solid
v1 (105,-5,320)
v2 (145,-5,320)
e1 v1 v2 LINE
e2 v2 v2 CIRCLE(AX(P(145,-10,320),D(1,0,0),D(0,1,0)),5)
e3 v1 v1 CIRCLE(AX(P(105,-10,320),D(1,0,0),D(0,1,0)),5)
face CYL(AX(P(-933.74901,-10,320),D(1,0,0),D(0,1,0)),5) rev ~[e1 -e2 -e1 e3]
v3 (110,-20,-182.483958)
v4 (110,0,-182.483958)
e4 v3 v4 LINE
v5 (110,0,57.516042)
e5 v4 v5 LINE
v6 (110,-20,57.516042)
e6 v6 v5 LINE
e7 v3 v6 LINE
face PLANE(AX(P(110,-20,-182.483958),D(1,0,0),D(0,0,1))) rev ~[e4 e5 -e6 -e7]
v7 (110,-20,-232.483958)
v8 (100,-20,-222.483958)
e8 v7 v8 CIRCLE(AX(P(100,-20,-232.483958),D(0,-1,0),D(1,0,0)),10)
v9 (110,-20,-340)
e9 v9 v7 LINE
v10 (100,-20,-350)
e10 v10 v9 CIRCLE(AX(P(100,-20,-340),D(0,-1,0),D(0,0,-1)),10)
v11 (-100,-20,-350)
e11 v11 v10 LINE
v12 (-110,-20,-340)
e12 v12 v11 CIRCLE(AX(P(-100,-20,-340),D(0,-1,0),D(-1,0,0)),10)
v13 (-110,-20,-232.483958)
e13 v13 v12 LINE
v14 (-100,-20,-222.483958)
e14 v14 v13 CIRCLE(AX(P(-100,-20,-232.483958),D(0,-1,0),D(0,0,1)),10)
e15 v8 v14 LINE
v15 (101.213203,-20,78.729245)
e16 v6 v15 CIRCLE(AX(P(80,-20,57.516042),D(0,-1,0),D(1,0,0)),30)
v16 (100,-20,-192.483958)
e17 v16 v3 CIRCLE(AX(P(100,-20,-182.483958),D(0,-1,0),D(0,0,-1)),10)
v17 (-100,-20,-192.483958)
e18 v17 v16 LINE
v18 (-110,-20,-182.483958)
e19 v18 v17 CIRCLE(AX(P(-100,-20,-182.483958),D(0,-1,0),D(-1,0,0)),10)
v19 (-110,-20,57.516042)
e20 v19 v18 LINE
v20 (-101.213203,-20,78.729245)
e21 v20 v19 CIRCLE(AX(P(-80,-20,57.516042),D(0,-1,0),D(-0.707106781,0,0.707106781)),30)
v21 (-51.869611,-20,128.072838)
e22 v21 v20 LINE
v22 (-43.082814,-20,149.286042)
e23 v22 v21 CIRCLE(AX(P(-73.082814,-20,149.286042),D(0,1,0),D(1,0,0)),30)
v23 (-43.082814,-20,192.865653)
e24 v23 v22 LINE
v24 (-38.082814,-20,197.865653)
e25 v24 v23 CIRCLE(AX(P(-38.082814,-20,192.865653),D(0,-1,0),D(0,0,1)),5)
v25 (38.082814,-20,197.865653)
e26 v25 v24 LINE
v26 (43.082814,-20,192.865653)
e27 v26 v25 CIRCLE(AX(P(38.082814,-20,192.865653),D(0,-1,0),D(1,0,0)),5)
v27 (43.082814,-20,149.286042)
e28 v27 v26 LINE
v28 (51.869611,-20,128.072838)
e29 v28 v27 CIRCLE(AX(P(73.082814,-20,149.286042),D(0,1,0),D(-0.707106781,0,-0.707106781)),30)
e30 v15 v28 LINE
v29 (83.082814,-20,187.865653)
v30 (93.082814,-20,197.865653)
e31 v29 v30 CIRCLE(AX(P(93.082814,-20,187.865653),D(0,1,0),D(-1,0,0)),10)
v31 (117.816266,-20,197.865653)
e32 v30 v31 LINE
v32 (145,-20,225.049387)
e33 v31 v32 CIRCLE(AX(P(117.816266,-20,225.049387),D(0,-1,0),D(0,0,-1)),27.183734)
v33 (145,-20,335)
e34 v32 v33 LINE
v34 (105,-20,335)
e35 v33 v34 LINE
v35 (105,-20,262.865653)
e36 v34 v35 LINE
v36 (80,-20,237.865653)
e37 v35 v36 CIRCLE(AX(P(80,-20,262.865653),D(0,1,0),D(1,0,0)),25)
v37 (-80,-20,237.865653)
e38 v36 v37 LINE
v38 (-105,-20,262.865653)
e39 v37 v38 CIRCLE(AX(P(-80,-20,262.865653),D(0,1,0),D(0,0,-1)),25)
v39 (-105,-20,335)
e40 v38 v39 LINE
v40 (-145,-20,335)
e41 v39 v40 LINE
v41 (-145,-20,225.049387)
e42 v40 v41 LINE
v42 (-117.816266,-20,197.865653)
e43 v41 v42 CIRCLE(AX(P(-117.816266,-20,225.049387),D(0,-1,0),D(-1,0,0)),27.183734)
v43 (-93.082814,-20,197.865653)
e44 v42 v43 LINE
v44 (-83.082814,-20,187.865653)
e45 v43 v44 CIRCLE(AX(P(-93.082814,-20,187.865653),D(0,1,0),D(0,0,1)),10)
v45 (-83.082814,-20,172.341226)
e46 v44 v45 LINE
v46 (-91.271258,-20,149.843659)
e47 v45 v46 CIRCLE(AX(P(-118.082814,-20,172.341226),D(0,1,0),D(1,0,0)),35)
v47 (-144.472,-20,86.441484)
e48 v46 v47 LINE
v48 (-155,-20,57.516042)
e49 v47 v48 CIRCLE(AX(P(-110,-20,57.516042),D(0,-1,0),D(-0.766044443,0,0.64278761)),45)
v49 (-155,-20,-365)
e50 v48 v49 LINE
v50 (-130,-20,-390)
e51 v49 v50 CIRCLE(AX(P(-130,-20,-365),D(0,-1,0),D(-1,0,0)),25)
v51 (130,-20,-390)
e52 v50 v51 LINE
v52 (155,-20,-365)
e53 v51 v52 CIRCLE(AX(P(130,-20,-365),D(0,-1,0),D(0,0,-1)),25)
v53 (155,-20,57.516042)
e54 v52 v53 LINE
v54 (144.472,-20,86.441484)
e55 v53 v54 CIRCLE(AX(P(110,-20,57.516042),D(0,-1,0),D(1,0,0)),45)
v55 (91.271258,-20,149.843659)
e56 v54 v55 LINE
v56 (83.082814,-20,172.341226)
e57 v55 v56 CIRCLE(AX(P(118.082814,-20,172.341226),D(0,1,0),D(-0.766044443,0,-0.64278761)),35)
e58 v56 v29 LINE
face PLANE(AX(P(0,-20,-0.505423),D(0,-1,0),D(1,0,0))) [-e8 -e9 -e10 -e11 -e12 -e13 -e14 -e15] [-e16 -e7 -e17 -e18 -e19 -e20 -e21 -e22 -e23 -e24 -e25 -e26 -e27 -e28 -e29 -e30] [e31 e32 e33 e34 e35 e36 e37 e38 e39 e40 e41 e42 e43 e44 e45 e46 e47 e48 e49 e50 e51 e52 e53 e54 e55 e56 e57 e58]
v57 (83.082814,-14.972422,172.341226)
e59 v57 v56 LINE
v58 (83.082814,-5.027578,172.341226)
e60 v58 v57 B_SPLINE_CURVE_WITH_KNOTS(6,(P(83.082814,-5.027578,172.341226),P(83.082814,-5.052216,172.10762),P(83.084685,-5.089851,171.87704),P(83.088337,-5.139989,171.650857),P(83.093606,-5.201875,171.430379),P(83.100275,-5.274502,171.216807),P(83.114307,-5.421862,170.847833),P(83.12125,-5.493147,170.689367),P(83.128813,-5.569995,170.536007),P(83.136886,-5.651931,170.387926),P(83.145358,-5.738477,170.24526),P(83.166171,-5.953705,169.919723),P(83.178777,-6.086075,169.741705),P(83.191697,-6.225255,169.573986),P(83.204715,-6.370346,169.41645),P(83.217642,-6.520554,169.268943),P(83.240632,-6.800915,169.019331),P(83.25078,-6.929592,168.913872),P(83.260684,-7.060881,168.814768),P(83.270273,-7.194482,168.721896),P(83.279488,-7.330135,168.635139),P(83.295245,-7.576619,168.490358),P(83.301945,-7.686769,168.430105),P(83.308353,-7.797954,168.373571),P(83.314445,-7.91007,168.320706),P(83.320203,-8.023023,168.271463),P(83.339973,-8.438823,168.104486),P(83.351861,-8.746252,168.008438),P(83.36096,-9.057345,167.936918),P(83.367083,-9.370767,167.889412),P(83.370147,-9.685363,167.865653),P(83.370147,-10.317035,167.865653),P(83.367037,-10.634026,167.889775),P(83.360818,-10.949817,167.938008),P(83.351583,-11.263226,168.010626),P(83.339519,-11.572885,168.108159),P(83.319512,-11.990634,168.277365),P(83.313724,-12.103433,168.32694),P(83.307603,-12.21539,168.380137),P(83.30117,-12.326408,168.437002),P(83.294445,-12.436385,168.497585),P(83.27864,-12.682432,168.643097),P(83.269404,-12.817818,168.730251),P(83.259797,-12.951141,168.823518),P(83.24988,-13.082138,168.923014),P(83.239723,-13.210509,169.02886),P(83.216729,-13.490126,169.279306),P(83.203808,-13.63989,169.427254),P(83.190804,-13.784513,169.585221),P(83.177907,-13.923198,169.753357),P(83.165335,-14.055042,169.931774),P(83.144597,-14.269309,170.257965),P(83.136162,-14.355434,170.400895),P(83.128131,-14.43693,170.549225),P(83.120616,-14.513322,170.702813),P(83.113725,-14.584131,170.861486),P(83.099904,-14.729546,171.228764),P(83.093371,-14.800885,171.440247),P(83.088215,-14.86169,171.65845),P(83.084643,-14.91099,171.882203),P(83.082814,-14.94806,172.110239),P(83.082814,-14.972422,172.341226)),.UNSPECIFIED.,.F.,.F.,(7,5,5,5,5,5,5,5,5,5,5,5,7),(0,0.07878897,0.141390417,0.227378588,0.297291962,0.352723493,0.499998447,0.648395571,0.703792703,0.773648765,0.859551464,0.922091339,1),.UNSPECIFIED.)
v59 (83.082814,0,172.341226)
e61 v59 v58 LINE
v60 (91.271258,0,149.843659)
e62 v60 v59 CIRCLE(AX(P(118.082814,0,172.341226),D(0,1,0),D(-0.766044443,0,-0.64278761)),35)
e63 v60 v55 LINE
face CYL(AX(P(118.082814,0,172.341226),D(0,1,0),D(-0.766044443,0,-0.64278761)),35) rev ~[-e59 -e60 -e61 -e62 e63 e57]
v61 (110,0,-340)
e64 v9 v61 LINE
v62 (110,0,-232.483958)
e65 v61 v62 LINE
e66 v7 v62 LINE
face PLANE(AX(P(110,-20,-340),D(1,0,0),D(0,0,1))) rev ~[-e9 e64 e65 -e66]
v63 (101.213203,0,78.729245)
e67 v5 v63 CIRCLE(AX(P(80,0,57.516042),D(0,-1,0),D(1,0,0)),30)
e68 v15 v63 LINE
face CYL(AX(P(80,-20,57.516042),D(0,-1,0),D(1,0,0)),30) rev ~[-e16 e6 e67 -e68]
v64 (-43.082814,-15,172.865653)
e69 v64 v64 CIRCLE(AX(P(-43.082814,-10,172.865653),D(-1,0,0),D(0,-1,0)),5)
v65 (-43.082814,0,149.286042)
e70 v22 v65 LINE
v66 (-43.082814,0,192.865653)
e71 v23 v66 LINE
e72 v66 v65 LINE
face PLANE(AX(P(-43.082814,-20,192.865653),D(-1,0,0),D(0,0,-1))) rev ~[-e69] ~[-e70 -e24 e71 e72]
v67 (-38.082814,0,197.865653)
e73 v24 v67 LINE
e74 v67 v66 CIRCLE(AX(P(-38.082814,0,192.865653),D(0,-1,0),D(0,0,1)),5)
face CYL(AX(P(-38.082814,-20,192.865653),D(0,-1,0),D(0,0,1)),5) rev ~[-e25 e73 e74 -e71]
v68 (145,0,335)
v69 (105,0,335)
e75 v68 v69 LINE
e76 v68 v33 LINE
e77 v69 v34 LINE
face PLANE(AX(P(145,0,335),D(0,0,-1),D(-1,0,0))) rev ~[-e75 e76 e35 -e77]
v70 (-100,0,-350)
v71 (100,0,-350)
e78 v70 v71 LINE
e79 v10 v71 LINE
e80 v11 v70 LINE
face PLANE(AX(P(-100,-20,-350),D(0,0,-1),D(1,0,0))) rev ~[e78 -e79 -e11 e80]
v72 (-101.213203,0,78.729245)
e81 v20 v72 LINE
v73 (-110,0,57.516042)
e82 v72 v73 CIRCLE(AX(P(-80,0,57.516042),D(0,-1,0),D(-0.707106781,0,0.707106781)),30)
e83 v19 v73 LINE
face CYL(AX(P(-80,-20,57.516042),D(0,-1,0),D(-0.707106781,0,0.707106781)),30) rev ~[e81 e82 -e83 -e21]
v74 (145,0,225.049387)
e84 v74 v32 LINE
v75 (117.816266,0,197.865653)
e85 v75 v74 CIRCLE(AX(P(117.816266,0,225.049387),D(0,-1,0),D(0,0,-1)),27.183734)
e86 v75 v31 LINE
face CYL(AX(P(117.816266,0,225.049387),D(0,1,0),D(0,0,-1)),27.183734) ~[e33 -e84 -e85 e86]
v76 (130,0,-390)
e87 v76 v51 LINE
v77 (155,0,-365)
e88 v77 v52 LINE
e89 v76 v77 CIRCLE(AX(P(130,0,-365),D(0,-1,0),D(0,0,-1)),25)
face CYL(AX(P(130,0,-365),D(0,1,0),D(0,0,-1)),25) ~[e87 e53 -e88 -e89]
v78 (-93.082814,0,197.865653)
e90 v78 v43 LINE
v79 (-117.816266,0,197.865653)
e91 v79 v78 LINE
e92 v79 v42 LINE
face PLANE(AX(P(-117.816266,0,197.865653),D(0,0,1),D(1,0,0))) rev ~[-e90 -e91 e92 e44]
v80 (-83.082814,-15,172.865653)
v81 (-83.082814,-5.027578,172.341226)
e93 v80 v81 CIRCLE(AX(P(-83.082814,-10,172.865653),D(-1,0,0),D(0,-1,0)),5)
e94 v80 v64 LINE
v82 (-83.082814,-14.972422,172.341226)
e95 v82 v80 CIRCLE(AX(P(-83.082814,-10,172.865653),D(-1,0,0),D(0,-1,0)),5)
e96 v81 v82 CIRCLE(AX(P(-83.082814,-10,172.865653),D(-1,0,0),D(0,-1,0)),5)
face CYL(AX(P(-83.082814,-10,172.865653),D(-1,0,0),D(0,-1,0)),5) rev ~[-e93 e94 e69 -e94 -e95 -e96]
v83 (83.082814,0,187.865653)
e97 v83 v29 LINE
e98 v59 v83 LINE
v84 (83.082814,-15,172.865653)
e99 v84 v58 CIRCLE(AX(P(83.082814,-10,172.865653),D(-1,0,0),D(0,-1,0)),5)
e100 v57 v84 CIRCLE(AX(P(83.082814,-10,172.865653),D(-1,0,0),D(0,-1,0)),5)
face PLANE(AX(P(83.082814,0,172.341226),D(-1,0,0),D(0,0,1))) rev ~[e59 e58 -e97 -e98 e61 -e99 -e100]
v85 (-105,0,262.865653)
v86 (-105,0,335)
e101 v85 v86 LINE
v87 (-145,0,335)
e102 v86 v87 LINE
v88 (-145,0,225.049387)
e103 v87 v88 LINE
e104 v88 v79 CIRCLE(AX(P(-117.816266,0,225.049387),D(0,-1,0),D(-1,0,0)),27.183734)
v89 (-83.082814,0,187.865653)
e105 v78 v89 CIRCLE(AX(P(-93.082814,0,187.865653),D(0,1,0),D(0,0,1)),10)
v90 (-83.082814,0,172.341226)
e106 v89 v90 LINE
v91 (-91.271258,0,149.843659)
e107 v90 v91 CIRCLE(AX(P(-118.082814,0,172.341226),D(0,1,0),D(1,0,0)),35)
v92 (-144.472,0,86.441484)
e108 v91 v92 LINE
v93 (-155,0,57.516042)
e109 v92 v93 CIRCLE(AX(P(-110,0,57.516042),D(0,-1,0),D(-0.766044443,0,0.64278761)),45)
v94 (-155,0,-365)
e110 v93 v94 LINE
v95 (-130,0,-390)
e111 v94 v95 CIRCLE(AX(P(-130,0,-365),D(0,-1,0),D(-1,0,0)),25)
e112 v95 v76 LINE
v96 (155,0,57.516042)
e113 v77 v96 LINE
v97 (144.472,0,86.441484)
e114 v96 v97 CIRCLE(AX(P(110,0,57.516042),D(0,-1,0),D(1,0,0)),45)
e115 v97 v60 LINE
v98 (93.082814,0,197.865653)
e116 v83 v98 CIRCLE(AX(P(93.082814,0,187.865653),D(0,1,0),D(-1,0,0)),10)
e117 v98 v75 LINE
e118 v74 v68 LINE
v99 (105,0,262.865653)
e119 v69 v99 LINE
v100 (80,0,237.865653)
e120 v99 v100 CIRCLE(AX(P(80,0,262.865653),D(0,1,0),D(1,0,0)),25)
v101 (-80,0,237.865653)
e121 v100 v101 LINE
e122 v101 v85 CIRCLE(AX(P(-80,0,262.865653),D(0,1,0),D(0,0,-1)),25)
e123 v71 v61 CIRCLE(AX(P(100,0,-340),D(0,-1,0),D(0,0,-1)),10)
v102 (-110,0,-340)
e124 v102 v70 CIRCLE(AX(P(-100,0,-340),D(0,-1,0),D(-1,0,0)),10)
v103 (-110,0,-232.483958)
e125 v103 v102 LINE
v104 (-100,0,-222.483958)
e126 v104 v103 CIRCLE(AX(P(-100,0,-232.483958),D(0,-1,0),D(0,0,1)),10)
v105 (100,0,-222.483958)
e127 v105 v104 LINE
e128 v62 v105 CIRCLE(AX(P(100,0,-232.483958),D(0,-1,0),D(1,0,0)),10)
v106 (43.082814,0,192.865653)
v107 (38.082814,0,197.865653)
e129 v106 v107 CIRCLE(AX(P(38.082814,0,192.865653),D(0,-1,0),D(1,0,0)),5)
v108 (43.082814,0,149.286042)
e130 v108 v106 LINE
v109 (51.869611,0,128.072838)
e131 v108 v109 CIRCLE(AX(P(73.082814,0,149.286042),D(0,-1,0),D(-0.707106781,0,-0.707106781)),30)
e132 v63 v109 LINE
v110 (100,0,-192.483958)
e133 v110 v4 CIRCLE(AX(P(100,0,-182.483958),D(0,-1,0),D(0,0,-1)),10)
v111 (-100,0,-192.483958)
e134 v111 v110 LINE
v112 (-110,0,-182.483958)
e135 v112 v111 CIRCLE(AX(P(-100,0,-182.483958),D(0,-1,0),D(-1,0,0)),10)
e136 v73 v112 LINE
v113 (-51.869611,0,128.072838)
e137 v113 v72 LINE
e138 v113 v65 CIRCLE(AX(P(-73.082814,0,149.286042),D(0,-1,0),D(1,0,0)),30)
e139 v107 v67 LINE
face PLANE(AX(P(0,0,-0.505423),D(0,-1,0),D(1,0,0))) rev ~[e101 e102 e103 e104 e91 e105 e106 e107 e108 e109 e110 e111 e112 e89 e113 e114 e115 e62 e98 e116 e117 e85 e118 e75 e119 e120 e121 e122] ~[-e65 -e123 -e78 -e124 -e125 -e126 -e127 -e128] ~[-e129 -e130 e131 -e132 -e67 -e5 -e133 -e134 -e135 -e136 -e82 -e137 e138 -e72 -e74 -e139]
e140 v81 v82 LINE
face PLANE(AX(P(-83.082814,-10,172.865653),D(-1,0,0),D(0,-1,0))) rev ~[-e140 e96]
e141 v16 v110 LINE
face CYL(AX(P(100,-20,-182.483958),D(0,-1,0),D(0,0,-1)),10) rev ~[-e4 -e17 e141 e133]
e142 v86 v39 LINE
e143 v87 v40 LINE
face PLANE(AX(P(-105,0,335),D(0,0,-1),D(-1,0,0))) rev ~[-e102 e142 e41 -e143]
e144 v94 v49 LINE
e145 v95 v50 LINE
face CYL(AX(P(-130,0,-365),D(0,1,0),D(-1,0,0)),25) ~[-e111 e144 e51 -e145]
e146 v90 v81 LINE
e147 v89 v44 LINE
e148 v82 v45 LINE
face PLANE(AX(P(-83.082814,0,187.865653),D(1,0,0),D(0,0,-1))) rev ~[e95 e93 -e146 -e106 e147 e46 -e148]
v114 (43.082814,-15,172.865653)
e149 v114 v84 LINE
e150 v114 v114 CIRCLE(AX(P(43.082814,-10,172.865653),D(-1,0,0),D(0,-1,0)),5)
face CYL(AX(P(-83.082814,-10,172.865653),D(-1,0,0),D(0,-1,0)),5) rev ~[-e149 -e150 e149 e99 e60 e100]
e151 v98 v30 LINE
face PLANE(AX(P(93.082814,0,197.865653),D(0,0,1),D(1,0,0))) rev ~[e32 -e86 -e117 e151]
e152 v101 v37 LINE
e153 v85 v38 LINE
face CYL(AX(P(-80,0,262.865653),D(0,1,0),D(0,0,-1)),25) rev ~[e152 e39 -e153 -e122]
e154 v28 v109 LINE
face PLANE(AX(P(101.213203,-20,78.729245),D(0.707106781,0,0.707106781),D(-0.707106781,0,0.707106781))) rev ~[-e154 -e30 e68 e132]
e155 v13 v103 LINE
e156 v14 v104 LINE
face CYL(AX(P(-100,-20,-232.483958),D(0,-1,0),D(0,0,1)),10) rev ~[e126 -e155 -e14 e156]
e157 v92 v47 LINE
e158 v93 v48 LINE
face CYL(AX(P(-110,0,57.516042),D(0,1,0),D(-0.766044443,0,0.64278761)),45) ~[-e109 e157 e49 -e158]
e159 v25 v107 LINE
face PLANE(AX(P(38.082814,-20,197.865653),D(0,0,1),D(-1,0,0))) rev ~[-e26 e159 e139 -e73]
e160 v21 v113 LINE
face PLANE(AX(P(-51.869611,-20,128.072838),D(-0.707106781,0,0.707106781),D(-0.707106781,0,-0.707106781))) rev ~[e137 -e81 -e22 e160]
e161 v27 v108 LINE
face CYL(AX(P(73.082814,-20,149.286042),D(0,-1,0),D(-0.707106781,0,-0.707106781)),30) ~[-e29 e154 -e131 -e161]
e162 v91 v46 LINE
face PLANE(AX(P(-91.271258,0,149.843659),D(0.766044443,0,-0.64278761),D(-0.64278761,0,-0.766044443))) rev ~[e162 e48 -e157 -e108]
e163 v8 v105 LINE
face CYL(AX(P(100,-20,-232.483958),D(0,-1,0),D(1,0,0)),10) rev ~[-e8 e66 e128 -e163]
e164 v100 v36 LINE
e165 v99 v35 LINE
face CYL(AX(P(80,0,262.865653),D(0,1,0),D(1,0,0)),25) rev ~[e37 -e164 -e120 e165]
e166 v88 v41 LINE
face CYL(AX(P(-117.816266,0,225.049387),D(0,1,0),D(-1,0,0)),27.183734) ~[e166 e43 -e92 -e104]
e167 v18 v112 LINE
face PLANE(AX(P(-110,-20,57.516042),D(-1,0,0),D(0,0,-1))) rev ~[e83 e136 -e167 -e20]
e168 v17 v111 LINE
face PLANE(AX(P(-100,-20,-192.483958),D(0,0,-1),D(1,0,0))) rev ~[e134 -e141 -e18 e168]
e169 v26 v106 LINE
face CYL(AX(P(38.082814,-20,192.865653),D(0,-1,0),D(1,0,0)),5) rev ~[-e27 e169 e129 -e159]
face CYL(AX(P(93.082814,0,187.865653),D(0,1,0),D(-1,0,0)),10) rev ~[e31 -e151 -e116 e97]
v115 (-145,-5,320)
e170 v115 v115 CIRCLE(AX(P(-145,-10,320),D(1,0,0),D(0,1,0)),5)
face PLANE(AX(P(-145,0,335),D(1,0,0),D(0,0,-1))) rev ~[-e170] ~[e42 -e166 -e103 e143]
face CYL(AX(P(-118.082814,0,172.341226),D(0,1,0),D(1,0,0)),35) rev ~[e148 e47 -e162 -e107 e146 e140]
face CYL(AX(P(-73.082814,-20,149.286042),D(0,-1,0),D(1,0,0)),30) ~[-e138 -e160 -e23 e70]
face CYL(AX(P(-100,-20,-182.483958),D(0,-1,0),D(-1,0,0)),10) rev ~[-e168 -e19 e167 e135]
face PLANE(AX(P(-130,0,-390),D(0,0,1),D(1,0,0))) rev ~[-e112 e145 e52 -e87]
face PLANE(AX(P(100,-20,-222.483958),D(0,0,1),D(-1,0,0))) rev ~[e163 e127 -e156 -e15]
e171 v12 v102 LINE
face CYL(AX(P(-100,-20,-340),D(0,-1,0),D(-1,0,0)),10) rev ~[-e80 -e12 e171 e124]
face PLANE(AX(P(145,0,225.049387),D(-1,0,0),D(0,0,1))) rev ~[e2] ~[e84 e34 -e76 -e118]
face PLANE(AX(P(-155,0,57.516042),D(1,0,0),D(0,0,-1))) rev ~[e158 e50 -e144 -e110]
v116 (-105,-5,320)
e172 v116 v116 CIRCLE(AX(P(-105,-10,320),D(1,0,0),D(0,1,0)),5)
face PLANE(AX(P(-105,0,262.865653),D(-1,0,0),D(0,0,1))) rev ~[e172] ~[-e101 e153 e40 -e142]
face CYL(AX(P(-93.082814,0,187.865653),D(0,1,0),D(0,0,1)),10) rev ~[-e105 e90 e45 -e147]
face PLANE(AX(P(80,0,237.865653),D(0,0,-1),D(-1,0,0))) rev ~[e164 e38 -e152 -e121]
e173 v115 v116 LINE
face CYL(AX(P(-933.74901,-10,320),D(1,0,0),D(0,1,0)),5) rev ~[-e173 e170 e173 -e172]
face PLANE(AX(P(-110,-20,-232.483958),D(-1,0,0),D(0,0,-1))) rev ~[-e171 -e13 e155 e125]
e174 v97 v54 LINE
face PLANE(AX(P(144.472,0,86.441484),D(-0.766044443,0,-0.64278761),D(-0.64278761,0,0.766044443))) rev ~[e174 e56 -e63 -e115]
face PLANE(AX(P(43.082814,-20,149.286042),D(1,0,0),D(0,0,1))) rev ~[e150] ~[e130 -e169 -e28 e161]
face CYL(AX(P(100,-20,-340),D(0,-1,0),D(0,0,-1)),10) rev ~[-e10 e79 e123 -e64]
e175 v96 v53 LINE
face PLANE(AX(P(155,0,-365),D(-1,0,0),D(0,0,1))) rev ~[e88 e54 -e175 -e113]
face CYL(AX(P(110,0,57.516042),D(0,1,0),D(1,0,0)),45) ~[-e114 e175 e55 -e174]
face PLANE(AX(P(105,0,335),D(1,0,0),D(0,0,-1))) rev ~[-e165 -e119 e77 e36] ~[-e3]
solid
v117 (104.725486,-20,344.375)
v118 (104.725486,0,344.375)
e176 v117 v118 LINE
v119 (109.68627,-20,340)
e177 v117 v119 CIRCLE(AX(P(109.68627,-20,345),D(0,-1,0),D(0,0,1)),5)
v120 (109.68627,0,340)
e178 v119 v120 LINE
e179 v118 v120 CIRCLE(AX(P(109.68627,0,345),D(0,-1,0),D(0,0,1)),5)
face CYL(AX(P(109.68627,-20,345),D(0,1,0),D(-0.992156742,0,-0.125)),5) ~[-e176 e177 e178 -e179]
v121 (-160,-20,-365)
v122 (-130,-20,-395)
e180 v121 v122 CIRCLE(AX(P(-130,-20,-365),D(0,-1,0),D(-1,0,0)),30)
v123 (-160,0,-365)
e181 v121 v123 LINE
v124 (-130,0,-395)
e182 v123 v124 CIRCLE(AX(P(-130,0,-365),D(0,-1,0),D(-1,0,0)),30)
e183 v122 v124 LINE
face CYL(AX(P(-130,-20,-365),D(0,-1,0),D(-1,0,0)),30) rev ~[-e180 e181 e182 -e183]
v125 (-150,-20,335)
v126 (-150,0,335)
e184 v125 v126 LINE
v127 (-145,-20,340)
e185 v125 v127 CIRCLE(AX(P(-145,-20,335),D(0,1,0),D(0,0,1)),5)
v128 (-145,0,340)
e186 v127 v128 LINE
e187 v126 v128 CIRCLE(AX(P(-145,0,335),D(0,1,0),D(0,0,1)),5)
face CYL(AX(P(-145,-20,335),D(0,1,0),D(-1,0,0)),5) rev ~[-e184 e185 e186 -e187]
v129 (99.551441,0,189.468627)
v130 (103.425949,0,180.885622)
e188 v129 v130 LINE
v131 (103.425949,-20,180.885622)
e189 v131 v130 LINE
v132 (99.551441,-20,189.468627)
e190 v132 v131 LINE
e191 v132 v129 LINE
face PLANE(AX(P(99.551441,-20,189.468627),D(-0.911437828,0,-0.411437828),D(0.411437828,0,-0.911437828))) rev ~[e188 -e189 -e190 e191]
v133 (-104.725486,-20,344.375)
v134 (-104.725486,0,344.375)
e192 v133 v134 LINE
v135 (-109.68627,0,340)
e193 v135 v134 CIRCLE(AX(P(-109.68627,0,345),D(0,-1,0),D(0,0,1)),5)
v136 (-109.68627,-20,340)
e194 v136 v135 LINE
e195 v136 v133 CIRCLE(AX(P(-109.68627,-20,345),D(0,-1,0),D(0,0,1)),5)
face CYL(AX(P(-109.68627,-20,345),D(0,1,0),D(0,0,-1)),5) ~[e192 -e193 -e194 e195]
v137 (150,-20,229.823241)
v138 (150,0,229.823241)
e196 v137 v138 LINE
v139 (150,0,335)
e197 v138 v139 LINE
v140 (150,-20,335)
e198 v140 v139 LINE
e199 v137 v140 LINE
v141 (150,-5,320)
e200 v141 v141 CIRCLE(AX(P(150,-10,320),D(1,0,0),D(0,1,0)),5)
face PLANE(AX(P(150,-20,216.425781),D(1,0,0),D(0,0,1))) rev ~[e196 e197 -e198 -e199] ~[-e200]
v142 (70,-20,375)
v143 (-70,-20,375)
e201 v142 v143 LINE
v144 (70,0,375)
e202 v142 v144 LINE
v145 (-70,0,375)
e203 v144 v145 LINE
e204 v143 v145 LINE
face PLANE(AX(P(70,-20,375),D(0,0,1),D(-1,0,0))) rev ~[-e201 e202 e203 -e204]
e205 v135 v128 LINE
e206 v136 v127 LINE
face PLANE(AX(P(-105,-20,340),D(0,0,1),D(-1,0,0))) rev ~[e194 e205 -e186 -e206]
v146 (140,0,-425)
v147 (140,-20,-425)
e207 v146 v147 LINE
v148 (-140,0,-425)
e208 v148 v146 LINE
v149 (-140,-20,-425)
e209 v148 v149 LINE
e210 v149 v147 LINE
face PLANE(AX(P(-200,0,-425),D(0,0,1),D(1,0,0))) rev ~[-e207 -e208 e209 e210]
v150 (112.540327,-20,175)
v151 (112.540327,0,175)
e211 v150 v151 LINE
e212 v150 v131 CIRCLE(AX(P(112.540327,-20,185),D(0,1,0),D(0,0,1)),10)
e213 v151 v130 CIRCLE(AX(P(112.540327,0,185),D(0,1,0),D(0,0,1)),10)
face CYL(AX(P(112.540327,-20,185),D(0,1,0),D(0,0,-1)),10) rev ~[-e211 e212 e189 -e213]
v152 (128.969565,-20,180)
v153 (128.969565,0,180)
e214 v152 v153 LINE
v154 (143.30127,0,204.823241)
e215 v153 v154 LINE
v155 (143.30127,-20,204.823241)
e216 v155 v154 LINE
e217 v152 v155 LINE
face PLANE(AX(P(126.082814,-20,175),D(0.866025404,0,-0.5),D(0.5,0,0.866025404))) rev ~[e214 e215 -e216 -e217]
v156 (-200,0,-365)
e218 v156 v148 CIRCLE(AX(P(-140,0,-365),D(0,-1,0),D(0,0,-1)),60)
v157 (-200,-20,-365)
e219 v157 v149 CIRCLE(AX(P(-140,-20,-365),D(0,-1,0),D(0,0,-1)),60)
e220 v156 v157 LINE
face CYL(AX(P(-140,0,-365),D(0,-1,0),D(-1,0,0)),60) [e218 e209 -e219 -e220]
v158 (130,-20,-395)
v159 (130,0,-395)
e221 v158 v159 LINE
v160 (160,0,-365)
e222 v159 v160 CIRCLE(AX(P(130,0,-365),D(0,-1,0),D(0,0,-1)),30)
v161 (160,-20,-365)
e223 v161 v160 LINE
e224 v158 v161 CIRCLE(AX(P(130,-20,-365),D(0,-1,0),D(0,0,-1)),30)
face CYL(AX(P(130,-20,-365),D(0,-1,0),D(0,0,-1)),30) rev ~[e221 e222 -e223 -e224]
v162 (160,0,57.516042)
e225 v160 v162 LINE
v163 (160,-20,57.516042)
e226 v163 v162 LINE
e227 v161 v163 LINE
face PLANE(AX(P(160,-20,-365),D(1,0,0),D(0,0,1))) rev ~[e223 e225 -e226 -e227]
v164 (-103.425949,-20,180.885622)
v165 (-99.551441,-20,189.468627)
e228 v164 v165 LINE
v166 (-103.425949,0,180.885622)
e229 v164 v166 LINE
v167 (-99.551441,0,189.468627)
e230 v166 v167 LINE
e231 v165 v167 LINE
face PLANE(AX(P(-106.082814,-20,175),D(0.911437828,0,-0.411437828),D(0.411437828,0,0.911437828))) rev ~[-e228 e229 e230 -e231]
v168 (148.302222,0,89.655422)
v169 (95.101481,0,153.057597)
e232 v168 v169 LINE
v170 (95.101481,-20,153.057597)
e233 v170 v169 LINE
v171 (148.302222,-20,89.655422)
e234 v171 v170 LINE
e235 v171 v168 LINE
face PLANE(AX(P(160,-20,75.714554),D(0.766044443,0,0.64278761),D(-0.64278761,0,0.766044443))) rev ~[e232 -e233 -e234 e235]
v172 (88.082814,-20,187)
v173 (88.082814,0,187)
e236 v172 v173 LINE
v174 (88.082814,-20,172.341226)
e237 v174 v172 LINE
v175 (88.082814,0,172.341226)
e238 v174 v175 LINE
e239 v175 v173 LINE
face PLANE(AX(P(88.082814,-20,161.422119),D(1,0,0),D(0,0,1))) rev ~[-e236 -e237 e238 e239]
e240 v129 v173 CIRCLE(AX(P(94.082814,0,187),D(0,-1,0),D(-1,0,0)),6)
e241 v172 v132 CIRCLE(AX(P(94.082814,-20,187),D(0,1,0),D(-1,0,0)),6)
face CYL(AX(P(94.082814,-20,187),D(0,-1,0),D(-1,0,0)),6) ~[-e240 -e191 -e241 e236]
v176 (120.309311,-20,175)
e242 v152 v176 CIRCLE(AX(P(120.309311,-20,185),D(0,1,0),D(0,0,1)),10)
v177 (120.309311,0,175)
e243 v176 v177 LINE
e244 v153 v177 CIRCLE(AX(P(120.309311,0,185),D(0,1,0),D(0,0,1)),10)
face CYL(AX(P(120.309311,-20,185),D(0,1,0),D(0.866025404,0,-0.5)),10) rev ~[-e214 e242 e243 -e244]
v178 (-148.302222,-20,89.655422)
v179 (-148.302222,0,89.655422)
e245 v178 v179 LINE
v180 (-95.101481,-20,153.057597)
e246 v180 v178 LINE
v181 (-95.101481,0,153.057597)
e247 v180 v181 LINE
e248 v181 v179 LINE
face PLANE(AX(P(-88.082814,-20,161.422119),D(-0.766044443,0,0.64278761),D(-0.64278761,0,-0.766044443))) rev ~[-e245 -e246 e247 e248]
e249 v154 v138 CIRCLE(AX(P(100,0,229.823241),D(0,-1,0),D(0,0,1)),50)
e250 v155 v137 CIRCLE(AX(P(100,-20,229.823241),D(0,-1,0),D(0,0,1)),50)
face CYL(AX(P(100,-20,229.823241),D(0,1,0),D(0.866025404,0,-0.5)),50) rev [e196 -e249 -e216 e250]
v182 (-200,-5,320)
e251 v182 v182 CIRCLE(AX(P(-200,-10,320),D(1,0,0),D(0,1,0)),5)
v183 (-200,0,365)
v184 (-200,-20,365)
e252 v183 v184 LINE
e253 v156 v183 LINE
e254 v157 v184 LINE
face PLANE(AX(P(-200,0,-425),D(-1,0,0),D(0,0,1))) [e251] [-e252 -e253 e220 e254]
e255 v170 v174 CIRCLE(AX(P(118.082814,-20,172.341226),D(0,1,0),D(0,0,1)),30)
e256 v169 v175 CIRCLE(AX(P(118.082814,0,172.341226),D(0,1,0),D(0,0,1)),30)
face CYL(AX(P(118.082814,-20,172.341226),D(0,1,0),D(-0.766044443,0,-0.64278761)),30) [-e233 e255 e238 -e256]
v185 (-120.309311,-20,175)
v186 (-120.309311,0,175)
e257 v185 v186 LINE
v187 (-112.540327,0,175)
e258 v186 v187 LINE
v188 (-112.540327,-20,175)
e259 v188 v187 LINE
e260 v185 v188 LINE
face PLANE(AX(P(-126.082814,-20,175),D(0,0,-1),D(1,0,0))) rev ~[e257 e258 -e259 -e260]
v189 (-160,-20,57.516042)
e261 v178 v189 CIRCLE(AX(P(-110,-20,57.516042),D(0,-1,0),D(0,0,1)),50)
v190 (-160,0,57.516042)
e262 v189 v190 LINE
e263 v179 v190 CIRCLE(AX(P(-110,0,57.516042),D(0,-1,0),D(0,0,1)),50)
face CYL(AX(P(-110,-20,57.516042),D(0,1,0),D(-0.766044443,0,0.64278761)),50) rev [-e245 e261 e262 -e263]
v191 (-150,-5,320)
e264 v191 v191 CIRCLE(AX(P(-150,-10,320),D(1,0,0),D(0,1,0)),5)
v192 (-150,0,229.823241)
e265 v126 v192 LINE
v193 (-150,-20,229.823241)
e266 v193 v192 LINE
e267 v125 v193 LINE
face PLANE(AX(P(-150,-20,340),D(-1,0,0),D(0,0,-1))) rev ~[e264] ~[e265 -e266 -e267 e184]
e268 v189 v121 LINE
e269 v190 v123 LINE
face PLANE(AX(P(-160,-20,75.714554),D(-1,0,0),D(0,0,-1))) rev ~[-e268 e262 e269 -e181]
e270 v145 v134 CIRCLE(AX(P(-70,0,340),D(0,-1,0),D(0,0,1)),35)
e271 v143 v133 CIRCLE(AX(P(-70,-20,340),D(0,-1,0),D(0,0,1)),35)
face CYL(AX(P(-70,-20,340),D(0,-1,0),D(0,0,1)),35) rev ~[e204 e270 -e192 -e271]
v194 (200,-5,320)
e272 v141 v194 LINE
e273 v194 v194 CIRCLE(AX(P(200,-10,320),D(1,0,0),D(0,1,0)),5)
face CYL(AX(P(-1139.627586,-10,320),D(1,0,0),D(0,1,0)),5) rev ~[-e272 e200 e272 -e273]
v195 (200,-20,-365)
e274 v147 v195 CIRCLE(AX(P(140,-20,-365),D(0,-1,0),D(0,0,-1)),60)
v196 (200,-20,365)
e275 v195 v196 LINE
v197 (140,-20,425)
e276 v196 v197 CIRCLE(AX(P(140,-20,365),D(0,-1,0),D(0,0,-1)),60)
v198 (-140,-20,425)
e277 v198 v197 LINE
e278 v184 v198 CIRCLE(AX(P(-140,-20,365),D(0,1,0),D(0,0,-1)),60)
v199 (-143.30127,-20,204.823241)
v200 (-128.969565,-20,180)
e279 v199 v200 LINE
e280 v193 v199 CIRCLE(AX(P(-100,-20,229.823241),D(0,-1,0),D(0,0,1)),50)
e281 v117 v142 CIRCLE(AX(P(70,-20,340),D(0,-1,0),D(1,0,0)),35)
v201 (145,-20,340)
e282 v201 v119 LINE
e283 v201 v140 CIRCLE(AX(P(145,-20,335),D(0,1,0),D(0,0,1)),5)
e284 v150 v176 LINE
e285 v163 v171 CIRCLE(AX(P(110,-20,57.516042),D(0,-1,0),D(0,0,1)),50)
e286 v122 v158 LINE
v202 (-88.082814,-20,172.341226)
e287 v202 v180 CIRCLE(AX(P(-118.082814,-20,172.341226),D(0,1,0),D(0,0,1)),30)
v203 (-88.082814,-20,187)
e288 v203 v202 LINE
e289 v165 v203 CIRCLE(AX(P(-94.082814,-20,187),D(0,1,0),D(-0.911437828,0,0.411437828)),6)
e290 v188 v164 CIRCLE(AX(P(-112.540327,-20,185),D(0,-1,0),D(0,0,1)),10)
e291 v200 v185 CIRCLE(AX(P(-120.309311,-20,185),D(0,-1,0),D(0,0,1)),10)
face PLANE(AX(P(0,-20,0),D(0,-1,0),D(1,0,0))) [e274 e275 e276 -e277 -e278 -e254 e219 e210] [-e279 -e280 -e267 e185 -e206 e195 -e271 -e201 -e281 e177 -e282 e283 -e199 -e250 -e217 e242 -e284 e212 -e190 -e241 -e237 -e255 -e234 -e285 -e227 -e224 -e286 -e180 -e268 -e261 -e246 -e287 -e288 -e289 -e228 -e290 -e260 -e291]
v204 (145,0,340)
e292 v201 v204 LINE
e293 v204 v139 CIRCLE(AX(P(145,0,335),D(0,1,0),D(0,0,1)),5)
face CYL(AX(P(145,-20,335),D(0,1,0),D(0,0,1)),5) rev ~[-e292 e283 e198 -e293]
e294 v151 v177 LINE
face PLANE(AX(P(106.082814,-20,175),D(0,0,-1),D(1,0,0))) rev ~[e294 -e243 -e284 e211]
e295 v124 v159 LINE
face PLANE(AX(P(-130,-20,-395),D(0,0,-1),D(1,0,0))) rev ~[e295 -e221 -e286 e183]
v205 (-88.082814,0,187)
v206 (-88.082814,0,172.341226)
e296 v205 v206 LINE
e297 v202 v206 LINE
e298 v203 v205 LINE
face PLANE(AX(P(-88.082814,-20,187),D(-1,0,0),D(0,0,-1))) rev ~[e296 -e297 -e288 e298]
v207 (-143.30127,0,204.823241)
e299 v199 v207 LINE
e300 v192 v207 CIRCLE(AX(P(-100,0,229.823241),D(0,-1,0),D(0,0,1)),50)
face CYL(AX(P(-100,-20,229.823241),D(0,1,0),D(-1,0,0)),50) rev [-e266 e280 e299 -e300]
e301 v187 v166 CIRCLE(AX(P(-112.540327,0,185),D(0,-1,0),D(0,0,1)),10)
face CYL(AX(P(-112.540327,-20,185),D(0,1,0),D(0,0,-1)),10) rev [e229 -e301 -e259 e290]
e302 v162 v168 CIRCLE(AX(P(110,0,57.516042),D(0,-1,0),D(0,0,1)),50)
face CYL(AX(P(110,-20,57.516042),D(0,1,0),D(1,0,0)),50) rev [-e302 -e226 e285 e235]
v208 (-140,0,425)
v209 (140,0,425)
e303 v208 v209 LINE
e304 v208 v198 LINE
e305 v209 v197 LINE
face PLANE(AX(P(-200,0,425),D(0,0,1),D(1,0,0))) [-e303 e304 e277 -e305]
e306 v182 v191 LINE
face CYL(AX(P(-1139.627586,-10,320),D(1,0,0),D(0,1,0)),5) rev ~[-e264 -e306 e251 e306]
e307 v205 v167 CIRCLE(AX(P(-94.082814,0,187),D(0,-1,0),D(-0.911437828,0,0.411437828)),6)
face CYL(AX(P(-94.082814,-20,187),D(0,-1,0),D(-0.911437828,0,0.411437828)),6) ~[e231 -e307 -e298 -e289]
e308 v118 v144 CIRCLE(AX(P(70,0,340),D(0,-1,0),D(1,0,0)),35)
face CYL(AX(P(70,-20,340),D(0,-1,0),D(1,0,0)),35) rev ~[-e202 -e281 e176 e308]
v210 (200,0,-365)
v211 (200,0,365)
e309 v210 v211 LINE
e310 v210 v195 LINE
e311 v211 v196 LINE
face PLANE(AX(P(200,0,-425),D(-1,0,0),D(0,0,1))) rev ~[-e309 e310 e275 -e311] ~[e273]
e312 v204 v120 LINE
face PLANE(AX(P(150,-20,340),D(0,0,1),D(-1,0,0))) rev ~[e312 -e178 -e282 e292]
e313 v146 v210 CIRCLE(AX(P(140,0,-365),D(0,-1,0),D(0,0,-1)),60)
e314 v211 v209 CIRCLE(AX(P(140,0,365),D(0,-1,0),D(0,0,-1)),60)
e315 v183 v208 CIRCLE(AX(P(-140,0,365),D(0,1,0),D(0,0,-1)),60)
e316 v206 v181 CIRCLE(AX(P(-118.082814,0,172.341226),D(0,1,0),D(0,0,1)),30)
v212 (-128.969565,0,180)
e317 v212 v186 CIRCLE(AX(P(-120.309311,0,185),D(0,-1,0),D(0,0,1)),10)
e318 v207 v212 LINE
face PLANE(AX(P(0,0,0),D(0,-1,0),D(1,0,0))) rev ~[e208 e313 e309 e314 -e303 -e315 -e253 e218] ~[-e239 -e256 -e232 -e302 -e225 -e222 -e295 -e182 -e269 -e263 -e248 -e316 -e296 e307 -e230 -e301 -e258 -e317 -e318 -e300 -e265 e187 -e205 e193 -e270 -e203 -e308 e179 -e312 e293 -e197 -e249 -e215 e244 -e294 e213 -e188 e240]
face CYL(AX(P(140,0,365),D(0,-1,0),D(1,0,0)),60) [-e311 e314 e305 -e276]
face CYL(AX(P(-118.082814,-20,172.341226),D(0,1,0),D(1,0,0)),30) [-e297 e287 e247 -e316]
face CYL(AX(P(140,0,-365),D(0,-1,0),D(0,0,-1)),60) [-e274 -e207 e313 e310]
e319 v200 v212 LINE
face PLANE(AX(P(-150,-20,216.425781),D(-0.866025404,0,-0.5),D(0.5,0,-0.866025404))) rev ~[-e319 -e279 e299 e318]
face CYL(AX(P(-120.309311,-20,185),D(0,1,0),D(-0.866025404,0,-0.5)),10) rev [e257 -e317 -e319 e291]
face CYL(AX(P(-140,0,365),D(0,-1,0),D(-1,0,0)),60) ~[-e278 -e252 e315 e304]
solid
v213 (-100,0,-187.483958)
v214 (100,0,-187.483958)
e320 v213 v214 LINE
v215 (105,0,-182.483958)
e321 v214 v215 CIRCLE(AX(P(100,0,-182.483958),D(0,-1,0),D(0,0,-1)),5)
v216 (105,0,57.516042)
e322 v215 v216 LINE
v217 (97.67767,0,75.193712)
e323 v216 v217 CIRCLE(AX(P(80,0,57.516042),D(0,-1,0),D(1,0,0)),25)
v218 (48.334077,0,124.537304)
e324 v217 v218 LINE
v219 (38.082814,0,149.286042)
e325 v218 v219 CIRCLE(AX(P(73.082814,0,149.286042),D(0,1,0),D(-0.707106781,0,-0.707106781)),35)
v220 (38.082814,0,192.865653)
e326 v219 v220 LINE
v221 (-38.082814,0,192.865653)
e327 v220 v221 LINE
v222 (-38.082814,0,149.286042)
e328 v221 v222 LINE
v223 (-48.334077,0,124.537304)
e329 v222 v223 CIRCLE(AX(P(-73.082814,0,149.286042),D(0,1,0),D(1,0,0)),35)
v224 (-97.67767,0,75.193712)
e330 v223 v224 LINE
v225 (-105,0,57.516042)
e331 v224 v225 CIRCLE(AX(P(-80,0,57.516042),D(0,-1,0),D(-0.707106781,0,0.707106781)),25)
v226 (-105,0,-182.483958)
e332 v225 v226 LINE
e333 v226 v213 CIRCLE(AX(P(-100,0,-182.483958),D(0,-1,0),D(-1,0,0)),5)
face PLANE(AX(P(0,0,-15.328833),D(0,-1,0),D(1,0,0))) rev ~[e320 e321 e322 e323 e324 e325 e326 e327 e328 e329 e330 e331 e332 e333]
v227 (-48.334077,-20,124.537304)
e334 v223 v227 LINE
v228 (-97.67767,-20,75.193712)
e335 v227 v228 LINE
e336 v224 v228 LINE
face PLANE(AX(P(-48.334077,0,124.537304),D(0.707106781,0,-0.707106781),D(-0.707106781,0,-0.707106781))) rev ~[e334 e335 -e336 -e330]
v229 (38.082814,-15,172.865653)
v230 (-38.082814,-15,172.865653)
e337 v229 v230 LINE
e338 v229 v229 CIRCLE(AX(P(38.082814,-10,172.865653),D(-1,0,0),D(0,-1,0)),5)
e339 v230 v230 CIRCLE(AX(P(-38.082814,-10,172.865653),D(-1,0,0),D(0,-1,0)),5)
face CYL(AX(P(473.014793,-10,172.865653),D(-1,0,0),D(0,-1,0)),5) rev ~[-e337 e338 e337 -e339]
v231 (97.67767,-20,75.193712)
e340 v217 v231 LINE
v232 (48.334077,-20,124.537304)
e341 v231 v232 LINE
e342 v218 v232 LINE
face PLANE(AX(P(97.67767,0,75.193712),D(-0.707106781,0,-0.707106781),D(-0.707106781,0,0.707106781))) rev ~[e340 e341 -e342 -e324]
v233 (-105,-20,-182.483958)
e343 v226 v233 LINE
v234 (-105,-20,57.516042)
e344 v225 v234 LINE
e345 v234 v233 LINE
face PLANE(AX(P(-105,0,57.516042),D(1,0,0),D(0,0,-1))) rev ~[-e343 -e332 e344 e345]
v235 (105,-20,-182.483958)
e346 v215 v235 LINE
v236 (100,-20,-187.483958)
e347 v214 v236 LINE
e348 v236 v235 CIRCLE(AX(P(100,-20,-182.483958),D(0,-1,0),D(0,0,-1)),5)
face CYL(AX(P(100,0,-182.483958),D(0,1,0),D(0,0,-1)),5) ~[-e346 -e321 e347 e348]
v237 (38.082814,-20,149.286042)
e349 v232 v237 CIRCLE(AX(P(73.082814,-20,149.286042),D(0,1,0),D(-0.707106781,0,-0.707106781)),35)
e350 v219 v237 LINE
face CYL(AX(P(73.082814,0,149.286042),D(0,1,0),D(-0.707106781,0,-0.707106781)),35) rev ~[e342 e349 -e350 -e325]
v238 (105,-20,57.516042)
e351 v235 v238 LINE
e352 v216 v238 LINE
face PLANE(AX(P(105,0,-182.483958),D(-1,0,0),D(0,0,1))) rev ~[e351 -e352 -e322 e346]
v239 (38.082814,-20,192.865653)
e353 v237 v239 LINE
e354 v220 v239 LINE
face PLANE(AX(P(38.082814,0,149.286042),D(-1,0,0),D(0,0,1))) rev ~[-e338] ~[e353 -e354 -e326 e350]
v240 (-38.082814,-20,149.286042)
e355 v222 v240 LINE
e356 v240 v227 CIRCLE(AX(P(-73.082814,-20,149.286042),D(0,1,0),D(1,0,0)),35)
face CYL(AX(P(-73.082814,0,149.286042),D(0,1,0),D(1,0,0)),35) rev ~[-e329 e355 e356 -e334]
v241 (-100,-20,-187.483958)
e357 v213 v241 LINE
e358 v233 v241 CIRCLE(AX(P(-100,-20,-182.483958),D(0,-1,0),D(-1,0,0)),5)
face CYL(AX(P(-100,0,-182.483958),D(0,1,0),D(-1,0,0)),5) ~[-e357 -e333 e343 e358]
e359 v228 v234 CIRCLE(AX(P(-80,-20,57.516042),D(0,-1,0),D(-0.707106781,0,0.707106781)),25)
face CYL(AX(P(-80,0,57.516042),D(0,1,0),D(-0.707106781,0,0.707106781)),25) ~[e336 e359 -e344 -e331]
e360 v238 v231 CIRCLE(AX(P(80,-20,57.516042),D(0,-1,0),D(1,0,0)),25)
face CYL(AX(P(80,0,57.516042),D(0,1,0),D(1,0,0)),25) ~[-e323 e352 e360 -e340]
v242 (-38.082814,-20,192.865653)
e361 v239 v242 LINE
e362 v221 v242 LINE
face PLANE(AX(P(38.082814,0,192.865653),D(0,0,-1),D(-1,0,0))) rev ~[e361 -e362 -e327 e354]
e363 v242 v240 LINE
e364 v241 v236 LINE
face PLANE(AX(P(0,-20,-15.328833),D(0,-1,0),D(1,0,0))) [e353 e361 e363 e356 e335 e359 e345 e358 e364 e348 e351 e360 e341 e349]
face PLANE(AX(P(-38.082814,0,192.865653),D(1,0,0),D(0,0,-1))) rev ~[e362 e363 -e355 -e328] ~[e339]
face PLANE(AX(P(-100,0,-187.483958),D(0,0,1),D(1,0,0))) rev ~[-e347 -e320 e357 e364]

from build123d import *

# Parameters (mm, degrees)
F0_W      = 400
F0_H      = 850
F1_DEPTH  = 20
F2_R      = 60
F4_DEPTH  = 20.001
F5_R      = 50
F6_R      = 10
F7_R      = 30
F8_R      = 50
F9_R      = 5
F11_DEPTH = 20
F13_DEPTH = 25
F15_DEPTH = 20.001
F17_DEPTH = 20
F19_D     = 10
F21_D     = 10
F21_DEPTH = 238.0838139666
F23_D     = 10
F25_D     = 10


with BuildPart() as f1:
    # F0 (on Front) → F1 (new body)
    with BuildSketch(Plane.XZ):
        Rectangle(F0_W, F0_H)
    extrude(amount=F1_DEPTH)

    # F2
    f2_edges = [f1.edges().sort_by_distance(p)[0] for p in [
        (200, -10, 425),
        (-200, -10, 425),
        (-200, -10, -425),
        (200, -10, -425),
    ]]
    fillet(f2_edges, radius=F2_R)

    # F3 (on face) → F4 (cut, through all)
    with BuildSketch(Plane.XZ.offset(20)):
        with BuildLine():
            Line((70, 375), (-70, 375))
            ThreePointArc((-70, 375), (-94.7487373415, 364.7487373415), (-105, 340))
            Line((-105, 340), (-150, 340))
            Line((-150, 340), (-150, 216.4257813839))
            Line((-150, 216.4257813839), (-126.0828139666, 175))
            Line((-126.0828139666, 175), (-106.0828139666, 175))
            Line((-106.0828139666, 175), (-99.5514409332, 189.4686269666))
            ThreePointArc((-99.5514409332, 189.4686269666), (-92.8202296723, 192.8656526406), (-88.0828139666, 187))
            Line((-88.0828139666, 187), (-88.0828139666, 161.4221185446))
            Line((-88.0828139666, 161.4221185446), (-160, 75.71455372))
            Line((-160, 75.71455372), (-160, -365))
            ThreePointArc((-160, -365), (-151.2132034356, -386.2132034356), (-130, -395))
            Line((-130, -395), (130, -395))
            ThreePointArc((130, -395), (151.2132034356, -386.2132034356), (160, -365))
            Line((160, -365), (160, 75.71455372))
            Line((160, 75.71455372), (88.0828139666, 161.4221185446))
            Line((88.0828139666, 161.4221185446), (88.0828139666, 187))
            ThreePointArc((88.0828139666, 187), (92.8202296723, 192.8656526406), (99.5514409332, 189.4686269666))
            Line((99.5514409332, 189.4686269666), (106.0828139666, 175))
            Line((106.0828139666, 175), (126.0828139666, 175))
            Line((126.0828139666, 175), (150, 216.4257813839))
            Line((150, 216.4257813839), (150, 340))
            Line((150, 340), (105, 340))
            ThreePointArc((105, 340), (94.7487373415, 364.7487373415), (70, 375))
        make_face()
    extrude(amount=-F4_DEPTH, mode=Mode.SUBTRACT)

    # F5
    f5_edges = [f1.edges().sort_by_distance(p)[0] for p in [
        (-150, -10, 216.425781),
        (150, -10, 216.425781),
    ]]
    fillet(f5_edges, radius=F5_R)

    # F6
    f6_edges = [f1.edges().sort_by_distance(p)[0] for p in [
        (126.082814, -10, 175),
        (-126.082814, -10, 175),
        (106.082814, -10, 175),
        (-106.082814, -10, 175),
    ]]
    fillet(f6_edges, radius=F6_R)

    # F7
    f7_edges = [f1.edges().sort_by_distance(p)[0] for p in [
        (-88.082814, -10, 161.422119),
        (88.082814, -10, 161.422119),
    ]]
    fillet(f7_edges, radius=F7_R)

    # F8
    f8_edges = [f1.edges().sort_by_distance(p)[0] for p in [
        (-160, -10, 75.714554),
        (160, -10, 75.714554),
    ]]
    fillet(f8_edges, radius=F8_R)

    # F9
    f9_edges = [f1.edges().sort_by_distance(p)[0] for p in [
        (-150, -10, 340),
        (-105, -10, 340),
        (150, -10, 340),
        (105, -10, 340),
    ]]
    fillet(f9_edges, radius=F9_R)

    # F25 (through all)
    with Locations(Plane(origin=(-200, 0, 0), x_dir=(0, -1, 0), z_dir=(-1, 0, 0))):
        with Locations((10, 320)):
            Hole(F25_D / 2)


with BuildPart() as f11:
    # F10 (on Front) → F11 (new body)
    with BuildSketch(Plane.XZ):
        with BuildLine():
            Line((-105, 262.8656526406), (-105, 335))
            Line((-105, 335), (-145, 335))
            Line((-145, 335), (-145, 225.0493870204))
            ThreePointArc((-145, 225.0493870204), (-137.0380685381, 205.8275841024), (-117.8162656202, 197.8656526406))
            Line((-117.8162656202, 197.8656526406), (-93.0828139666, 197.8656526406))
            ThreePointArc((-93.0828139666, 197.8656526406), (-86.0117461547, 194.9367204524), (-83.0828139666, 187.8656526406))
            Line((-83.0828139666, 187.8656526406), (-83.0828139666, 172.3412255726))
            ThreePointArc((-83.0828139666, 172.3412255726), (-85.1935722391, 160.3705205562), (-91.2712584574, 149.8436592335))
            Line((-91.2712584574, 149.8436592335), (-144.4719999404, 86.4414844426))
            ThreePointArc((-144.4719999404, 86.4414844426), (-152.2861679354, 72.9069484564), (-155, 57.5160420067))
            Line((-155, 57.5160420067), (-155, -365))
            ThreePointArc((-155, -365), (-147.6776695297, -382.6776695297), (-130, -390))
            Line((-130, -390), (0, -390))
            Line((0, -390), (130, -390))
            ThreePointArc((130, -390), (147.6776695297, -382.6776695297), (155, -365))
            Line((155, -365), (155, 57.5160420067))
            ThreePointArc((155, 57.5160420067), (152.2861679354, 72.9069484564), (144.4719999404, 86.4414844426))
            Line((144.4719999404, 86.4414844426), (91.2712584574, 149.8436592335))
            ThreePointArc((91.2712584574, 149.8436592335), (85.1935722391, 160.3705205562), (83.0828139666, 172.3412255726))
            Line((83.0828139666, 172.3412255726), (83.0828139666, 187.8656526406))
            ThreePointArc((83.0828139666, 187.8656526406), (86.0117461547, 194.9367204524), (93.0828139666, 197.8656526406))
            Line((93.0828139666, 197.8656526406), (117.8162656202, 197.8656526406))
            ThreePointArc((117.8162656202, 197.8656526406), (137.0380685381, 205.8275841024), (145, 225.0493870204))
            Line((145, 225.0493870204), (145, 335))
            Line((145, 335), (105, 335))
            Line((105, 335), (105, 262.8656526406))
            ThreePointArc((105, 262.8656526406), (97.6776695297, 245.1879831109), (80, 237.8656526406))
            Line((80, 237.8656526406), (0, 237.8656526406))
            Line((0, 237.8656526406), (-80, 237.8656526406))
            ThreePointArc((-80, 237.8656526406), (-97.6776695297, 245.1879831109), (-105, 262.8656526406))
        make_face()
    extrude(amount=F11_DEPTH)

    # F12 (on face) → F13 (cut)
    with BuildSketch(Plane.XZ.offset(20)):
        with BuildLine():
            Line((38.0828139666, 197.8656526406), (-38.0828139666, 197.8656526406))
            ThreePointArc((-38.0828139666, 197.8656526406), (-41.6183478725, 196.4011865465), (-43.0828139666, 192.8656526406))
            Line((-43.0828139666, 192.8656526406), (-43.0828139666, 149.2860417825))
            ThreePointArc((-43.0828139666, 149.2860417825), (-45.3664279913, 137.8055388115), (-51.869610531, 128.0728383469))
            Line((-51.869610531, 128.0728383469), (-101.2132034356, 78.7292454423))
            ThreePointArc((-101.2132034356, 78.7292454423), (-107.7163859753, 68.9965449777), (-110, 57.5160420067))
            Line((-110, 57.5160420067), (-110, -182.4839579933))
            ThreePointArc((-110, -182.4839579933), (-107.0710678119, -189.5550258052), (-100, -192.4839579933))
            Line((-100, -192.4839579933), (0, -192.4839579933))
            Line((0, -192.4839579933), (100, -192.4839579933))
            ThreePointArc((100, -192.4839579933), (107.0710678119, -189.5550258052), (110, -182.4839579933))
            Line((110, -182.4839579933), (110, 57.5160420067))
            ThreePointArc((110, 57.5160420067), (107.7163859753, 68.9965449777), (101.2132034356, 78.7292454423))
            Line((101.2132034356, 78.7292454423), (51.869610531, 128.0728383469))
            ThreePointArc((51.869610531, 128.0728383469), (45.3664279913, 137.8055388115), (43.0828139666, 149.2860417825))
            Line((43.0828139666, 149.2860417825), (43.0828139666, 192.8656526406))
            ThreePointArc((43.0828139666, 192.8656526406), (41.6183478725, 196.4011865465), (38.0828139666, 197.8656526406))
        make_face()
    extrude(amount=-F13_DEPTH, mode=Mode.SUBTRACT)

    # F14 (on face) → F15 (cut, through all)
    with BuildSketch(Plane.XZ.offset(20)):
        with BuildLine():
            Line((0, -222.4839579933), (-100, -222.4839579933))
            ThreePointArc((-100, -222.4839579933), (-107.0710678119, -225.4128901814), (-110, -232.4839579933))
            Line((-110, -232.4839579933), (-110, -340))
            ThreePointArc((-110, -340), (-107.0710678119, -347.0710678119), (-100, -350))
            Line((-100, -350), (0, -350))
            Line((0, -350), (0, -222.4839579933))
        make_face()
        with BuildLine():
            Line((100, -222.4839579933), (0, -222.4839579933))
            Line((0, -222.4839579933), (0, -350))
            Line((0, -350), (100, -350))
            ThreePointArc((100, -350), (107.0710678119, -347.0710678119), (110, -340))
            Line((110, -340), (110, -232.4839579933))
            ThreePointArc((110, -232.4839579933), (107.0710678119, -225.4128901814), (100, -222.4839579933))
        make_face()
    extrude(amount=-F15_DEPTH, mode=Mode.SUBTRACT)

    # F21 (through all, one way)
    with BuildSketch(Plane(origin=(-83.0828139666, 0, 0), x_dir=(0, -1, 0), z_dir=(-1, 0, 0))):
        with Locations((10, 172.8656526253)):
            Circle(F21_D / 2)
    extrude(amount=-F21_DEPTH, mode=Mode.SUBTRACT)

    # F23 (through all)
    with Locations(Plane(origin=(-145, 0, 0), x_dir=(0, -1, 0), z_dir=(-1, 0, 0))):
        with Locations((10, 320)):
            Hole(F23_D / 2)


with BuildPart() as f17:
    # F16 (on Front) → F17 (new body)
    with BuildSketch(Plane.XZ):
        with BuildLine():
            ThreePointArc((-38.0828139513, 149.2860417825), (-40.7470303146, 135.8921216438), (-48.3340766143, 124.5373044301))
            Line((-48.3340766143, 124.5373044301), (-97.6776695188, 75.1937115255))
            ThreePointArc((-97.6776695188, 75.1937115255), (-103.0969882986, 67.08312781), (-104.9999999847, 57.5160420067))
            Line((-104.9999999847, 57.5160420067), (-104.9999999847, -182.4839579933))
            ThreePointArc((-104.9999999847, -182.4839579933), (-103.5355338951, -186.0194918884), (-100, -187.483957978))
            Line((-100, -187.483957978), (100, -187.483957978))
            ThreePointArc((100, -187.483957978), (103.5355338951, -186.0194918884), (104.9999999847, -182.4839579933))
            Line((104.9999999847, -182.4839579933), (104.9999999847, 57.5160420067))
            ThreePointArc((104.9999999847, 57.5160420067), (103.0969882986, 67.08312781), (97.6776695188, 75.1937115255))
            Line((97.6776695188, 75.1937115255), (48.3340766143, 124.5373044301))
            ThreePointArc((48.3340766143, 124.5373044301), (40.7470303146, 135.8921216438), (38.0828139513, 149.2860417825))
            Line((38.0828139513, 149.2860417825), (38.0828139513, 192.8656526253))
            Line((38.0828139513, 192.8656526253), (-38.0828139513, 192.8656526253))
            Line((-38.0828139513, 192.8656526253), (-38.0828139513, 149.2860417825))
        make_face()
    extrude(amount=F17_DEPTH)

    # F19 (through all)
    with Locations(Plane.YZ.offset(38.0828139513)):
        with Locations((-10, 172.8656526253)):
            Hole(F19_D / 2)


solid = Compound([f1.part, f11.part, f17.part])
